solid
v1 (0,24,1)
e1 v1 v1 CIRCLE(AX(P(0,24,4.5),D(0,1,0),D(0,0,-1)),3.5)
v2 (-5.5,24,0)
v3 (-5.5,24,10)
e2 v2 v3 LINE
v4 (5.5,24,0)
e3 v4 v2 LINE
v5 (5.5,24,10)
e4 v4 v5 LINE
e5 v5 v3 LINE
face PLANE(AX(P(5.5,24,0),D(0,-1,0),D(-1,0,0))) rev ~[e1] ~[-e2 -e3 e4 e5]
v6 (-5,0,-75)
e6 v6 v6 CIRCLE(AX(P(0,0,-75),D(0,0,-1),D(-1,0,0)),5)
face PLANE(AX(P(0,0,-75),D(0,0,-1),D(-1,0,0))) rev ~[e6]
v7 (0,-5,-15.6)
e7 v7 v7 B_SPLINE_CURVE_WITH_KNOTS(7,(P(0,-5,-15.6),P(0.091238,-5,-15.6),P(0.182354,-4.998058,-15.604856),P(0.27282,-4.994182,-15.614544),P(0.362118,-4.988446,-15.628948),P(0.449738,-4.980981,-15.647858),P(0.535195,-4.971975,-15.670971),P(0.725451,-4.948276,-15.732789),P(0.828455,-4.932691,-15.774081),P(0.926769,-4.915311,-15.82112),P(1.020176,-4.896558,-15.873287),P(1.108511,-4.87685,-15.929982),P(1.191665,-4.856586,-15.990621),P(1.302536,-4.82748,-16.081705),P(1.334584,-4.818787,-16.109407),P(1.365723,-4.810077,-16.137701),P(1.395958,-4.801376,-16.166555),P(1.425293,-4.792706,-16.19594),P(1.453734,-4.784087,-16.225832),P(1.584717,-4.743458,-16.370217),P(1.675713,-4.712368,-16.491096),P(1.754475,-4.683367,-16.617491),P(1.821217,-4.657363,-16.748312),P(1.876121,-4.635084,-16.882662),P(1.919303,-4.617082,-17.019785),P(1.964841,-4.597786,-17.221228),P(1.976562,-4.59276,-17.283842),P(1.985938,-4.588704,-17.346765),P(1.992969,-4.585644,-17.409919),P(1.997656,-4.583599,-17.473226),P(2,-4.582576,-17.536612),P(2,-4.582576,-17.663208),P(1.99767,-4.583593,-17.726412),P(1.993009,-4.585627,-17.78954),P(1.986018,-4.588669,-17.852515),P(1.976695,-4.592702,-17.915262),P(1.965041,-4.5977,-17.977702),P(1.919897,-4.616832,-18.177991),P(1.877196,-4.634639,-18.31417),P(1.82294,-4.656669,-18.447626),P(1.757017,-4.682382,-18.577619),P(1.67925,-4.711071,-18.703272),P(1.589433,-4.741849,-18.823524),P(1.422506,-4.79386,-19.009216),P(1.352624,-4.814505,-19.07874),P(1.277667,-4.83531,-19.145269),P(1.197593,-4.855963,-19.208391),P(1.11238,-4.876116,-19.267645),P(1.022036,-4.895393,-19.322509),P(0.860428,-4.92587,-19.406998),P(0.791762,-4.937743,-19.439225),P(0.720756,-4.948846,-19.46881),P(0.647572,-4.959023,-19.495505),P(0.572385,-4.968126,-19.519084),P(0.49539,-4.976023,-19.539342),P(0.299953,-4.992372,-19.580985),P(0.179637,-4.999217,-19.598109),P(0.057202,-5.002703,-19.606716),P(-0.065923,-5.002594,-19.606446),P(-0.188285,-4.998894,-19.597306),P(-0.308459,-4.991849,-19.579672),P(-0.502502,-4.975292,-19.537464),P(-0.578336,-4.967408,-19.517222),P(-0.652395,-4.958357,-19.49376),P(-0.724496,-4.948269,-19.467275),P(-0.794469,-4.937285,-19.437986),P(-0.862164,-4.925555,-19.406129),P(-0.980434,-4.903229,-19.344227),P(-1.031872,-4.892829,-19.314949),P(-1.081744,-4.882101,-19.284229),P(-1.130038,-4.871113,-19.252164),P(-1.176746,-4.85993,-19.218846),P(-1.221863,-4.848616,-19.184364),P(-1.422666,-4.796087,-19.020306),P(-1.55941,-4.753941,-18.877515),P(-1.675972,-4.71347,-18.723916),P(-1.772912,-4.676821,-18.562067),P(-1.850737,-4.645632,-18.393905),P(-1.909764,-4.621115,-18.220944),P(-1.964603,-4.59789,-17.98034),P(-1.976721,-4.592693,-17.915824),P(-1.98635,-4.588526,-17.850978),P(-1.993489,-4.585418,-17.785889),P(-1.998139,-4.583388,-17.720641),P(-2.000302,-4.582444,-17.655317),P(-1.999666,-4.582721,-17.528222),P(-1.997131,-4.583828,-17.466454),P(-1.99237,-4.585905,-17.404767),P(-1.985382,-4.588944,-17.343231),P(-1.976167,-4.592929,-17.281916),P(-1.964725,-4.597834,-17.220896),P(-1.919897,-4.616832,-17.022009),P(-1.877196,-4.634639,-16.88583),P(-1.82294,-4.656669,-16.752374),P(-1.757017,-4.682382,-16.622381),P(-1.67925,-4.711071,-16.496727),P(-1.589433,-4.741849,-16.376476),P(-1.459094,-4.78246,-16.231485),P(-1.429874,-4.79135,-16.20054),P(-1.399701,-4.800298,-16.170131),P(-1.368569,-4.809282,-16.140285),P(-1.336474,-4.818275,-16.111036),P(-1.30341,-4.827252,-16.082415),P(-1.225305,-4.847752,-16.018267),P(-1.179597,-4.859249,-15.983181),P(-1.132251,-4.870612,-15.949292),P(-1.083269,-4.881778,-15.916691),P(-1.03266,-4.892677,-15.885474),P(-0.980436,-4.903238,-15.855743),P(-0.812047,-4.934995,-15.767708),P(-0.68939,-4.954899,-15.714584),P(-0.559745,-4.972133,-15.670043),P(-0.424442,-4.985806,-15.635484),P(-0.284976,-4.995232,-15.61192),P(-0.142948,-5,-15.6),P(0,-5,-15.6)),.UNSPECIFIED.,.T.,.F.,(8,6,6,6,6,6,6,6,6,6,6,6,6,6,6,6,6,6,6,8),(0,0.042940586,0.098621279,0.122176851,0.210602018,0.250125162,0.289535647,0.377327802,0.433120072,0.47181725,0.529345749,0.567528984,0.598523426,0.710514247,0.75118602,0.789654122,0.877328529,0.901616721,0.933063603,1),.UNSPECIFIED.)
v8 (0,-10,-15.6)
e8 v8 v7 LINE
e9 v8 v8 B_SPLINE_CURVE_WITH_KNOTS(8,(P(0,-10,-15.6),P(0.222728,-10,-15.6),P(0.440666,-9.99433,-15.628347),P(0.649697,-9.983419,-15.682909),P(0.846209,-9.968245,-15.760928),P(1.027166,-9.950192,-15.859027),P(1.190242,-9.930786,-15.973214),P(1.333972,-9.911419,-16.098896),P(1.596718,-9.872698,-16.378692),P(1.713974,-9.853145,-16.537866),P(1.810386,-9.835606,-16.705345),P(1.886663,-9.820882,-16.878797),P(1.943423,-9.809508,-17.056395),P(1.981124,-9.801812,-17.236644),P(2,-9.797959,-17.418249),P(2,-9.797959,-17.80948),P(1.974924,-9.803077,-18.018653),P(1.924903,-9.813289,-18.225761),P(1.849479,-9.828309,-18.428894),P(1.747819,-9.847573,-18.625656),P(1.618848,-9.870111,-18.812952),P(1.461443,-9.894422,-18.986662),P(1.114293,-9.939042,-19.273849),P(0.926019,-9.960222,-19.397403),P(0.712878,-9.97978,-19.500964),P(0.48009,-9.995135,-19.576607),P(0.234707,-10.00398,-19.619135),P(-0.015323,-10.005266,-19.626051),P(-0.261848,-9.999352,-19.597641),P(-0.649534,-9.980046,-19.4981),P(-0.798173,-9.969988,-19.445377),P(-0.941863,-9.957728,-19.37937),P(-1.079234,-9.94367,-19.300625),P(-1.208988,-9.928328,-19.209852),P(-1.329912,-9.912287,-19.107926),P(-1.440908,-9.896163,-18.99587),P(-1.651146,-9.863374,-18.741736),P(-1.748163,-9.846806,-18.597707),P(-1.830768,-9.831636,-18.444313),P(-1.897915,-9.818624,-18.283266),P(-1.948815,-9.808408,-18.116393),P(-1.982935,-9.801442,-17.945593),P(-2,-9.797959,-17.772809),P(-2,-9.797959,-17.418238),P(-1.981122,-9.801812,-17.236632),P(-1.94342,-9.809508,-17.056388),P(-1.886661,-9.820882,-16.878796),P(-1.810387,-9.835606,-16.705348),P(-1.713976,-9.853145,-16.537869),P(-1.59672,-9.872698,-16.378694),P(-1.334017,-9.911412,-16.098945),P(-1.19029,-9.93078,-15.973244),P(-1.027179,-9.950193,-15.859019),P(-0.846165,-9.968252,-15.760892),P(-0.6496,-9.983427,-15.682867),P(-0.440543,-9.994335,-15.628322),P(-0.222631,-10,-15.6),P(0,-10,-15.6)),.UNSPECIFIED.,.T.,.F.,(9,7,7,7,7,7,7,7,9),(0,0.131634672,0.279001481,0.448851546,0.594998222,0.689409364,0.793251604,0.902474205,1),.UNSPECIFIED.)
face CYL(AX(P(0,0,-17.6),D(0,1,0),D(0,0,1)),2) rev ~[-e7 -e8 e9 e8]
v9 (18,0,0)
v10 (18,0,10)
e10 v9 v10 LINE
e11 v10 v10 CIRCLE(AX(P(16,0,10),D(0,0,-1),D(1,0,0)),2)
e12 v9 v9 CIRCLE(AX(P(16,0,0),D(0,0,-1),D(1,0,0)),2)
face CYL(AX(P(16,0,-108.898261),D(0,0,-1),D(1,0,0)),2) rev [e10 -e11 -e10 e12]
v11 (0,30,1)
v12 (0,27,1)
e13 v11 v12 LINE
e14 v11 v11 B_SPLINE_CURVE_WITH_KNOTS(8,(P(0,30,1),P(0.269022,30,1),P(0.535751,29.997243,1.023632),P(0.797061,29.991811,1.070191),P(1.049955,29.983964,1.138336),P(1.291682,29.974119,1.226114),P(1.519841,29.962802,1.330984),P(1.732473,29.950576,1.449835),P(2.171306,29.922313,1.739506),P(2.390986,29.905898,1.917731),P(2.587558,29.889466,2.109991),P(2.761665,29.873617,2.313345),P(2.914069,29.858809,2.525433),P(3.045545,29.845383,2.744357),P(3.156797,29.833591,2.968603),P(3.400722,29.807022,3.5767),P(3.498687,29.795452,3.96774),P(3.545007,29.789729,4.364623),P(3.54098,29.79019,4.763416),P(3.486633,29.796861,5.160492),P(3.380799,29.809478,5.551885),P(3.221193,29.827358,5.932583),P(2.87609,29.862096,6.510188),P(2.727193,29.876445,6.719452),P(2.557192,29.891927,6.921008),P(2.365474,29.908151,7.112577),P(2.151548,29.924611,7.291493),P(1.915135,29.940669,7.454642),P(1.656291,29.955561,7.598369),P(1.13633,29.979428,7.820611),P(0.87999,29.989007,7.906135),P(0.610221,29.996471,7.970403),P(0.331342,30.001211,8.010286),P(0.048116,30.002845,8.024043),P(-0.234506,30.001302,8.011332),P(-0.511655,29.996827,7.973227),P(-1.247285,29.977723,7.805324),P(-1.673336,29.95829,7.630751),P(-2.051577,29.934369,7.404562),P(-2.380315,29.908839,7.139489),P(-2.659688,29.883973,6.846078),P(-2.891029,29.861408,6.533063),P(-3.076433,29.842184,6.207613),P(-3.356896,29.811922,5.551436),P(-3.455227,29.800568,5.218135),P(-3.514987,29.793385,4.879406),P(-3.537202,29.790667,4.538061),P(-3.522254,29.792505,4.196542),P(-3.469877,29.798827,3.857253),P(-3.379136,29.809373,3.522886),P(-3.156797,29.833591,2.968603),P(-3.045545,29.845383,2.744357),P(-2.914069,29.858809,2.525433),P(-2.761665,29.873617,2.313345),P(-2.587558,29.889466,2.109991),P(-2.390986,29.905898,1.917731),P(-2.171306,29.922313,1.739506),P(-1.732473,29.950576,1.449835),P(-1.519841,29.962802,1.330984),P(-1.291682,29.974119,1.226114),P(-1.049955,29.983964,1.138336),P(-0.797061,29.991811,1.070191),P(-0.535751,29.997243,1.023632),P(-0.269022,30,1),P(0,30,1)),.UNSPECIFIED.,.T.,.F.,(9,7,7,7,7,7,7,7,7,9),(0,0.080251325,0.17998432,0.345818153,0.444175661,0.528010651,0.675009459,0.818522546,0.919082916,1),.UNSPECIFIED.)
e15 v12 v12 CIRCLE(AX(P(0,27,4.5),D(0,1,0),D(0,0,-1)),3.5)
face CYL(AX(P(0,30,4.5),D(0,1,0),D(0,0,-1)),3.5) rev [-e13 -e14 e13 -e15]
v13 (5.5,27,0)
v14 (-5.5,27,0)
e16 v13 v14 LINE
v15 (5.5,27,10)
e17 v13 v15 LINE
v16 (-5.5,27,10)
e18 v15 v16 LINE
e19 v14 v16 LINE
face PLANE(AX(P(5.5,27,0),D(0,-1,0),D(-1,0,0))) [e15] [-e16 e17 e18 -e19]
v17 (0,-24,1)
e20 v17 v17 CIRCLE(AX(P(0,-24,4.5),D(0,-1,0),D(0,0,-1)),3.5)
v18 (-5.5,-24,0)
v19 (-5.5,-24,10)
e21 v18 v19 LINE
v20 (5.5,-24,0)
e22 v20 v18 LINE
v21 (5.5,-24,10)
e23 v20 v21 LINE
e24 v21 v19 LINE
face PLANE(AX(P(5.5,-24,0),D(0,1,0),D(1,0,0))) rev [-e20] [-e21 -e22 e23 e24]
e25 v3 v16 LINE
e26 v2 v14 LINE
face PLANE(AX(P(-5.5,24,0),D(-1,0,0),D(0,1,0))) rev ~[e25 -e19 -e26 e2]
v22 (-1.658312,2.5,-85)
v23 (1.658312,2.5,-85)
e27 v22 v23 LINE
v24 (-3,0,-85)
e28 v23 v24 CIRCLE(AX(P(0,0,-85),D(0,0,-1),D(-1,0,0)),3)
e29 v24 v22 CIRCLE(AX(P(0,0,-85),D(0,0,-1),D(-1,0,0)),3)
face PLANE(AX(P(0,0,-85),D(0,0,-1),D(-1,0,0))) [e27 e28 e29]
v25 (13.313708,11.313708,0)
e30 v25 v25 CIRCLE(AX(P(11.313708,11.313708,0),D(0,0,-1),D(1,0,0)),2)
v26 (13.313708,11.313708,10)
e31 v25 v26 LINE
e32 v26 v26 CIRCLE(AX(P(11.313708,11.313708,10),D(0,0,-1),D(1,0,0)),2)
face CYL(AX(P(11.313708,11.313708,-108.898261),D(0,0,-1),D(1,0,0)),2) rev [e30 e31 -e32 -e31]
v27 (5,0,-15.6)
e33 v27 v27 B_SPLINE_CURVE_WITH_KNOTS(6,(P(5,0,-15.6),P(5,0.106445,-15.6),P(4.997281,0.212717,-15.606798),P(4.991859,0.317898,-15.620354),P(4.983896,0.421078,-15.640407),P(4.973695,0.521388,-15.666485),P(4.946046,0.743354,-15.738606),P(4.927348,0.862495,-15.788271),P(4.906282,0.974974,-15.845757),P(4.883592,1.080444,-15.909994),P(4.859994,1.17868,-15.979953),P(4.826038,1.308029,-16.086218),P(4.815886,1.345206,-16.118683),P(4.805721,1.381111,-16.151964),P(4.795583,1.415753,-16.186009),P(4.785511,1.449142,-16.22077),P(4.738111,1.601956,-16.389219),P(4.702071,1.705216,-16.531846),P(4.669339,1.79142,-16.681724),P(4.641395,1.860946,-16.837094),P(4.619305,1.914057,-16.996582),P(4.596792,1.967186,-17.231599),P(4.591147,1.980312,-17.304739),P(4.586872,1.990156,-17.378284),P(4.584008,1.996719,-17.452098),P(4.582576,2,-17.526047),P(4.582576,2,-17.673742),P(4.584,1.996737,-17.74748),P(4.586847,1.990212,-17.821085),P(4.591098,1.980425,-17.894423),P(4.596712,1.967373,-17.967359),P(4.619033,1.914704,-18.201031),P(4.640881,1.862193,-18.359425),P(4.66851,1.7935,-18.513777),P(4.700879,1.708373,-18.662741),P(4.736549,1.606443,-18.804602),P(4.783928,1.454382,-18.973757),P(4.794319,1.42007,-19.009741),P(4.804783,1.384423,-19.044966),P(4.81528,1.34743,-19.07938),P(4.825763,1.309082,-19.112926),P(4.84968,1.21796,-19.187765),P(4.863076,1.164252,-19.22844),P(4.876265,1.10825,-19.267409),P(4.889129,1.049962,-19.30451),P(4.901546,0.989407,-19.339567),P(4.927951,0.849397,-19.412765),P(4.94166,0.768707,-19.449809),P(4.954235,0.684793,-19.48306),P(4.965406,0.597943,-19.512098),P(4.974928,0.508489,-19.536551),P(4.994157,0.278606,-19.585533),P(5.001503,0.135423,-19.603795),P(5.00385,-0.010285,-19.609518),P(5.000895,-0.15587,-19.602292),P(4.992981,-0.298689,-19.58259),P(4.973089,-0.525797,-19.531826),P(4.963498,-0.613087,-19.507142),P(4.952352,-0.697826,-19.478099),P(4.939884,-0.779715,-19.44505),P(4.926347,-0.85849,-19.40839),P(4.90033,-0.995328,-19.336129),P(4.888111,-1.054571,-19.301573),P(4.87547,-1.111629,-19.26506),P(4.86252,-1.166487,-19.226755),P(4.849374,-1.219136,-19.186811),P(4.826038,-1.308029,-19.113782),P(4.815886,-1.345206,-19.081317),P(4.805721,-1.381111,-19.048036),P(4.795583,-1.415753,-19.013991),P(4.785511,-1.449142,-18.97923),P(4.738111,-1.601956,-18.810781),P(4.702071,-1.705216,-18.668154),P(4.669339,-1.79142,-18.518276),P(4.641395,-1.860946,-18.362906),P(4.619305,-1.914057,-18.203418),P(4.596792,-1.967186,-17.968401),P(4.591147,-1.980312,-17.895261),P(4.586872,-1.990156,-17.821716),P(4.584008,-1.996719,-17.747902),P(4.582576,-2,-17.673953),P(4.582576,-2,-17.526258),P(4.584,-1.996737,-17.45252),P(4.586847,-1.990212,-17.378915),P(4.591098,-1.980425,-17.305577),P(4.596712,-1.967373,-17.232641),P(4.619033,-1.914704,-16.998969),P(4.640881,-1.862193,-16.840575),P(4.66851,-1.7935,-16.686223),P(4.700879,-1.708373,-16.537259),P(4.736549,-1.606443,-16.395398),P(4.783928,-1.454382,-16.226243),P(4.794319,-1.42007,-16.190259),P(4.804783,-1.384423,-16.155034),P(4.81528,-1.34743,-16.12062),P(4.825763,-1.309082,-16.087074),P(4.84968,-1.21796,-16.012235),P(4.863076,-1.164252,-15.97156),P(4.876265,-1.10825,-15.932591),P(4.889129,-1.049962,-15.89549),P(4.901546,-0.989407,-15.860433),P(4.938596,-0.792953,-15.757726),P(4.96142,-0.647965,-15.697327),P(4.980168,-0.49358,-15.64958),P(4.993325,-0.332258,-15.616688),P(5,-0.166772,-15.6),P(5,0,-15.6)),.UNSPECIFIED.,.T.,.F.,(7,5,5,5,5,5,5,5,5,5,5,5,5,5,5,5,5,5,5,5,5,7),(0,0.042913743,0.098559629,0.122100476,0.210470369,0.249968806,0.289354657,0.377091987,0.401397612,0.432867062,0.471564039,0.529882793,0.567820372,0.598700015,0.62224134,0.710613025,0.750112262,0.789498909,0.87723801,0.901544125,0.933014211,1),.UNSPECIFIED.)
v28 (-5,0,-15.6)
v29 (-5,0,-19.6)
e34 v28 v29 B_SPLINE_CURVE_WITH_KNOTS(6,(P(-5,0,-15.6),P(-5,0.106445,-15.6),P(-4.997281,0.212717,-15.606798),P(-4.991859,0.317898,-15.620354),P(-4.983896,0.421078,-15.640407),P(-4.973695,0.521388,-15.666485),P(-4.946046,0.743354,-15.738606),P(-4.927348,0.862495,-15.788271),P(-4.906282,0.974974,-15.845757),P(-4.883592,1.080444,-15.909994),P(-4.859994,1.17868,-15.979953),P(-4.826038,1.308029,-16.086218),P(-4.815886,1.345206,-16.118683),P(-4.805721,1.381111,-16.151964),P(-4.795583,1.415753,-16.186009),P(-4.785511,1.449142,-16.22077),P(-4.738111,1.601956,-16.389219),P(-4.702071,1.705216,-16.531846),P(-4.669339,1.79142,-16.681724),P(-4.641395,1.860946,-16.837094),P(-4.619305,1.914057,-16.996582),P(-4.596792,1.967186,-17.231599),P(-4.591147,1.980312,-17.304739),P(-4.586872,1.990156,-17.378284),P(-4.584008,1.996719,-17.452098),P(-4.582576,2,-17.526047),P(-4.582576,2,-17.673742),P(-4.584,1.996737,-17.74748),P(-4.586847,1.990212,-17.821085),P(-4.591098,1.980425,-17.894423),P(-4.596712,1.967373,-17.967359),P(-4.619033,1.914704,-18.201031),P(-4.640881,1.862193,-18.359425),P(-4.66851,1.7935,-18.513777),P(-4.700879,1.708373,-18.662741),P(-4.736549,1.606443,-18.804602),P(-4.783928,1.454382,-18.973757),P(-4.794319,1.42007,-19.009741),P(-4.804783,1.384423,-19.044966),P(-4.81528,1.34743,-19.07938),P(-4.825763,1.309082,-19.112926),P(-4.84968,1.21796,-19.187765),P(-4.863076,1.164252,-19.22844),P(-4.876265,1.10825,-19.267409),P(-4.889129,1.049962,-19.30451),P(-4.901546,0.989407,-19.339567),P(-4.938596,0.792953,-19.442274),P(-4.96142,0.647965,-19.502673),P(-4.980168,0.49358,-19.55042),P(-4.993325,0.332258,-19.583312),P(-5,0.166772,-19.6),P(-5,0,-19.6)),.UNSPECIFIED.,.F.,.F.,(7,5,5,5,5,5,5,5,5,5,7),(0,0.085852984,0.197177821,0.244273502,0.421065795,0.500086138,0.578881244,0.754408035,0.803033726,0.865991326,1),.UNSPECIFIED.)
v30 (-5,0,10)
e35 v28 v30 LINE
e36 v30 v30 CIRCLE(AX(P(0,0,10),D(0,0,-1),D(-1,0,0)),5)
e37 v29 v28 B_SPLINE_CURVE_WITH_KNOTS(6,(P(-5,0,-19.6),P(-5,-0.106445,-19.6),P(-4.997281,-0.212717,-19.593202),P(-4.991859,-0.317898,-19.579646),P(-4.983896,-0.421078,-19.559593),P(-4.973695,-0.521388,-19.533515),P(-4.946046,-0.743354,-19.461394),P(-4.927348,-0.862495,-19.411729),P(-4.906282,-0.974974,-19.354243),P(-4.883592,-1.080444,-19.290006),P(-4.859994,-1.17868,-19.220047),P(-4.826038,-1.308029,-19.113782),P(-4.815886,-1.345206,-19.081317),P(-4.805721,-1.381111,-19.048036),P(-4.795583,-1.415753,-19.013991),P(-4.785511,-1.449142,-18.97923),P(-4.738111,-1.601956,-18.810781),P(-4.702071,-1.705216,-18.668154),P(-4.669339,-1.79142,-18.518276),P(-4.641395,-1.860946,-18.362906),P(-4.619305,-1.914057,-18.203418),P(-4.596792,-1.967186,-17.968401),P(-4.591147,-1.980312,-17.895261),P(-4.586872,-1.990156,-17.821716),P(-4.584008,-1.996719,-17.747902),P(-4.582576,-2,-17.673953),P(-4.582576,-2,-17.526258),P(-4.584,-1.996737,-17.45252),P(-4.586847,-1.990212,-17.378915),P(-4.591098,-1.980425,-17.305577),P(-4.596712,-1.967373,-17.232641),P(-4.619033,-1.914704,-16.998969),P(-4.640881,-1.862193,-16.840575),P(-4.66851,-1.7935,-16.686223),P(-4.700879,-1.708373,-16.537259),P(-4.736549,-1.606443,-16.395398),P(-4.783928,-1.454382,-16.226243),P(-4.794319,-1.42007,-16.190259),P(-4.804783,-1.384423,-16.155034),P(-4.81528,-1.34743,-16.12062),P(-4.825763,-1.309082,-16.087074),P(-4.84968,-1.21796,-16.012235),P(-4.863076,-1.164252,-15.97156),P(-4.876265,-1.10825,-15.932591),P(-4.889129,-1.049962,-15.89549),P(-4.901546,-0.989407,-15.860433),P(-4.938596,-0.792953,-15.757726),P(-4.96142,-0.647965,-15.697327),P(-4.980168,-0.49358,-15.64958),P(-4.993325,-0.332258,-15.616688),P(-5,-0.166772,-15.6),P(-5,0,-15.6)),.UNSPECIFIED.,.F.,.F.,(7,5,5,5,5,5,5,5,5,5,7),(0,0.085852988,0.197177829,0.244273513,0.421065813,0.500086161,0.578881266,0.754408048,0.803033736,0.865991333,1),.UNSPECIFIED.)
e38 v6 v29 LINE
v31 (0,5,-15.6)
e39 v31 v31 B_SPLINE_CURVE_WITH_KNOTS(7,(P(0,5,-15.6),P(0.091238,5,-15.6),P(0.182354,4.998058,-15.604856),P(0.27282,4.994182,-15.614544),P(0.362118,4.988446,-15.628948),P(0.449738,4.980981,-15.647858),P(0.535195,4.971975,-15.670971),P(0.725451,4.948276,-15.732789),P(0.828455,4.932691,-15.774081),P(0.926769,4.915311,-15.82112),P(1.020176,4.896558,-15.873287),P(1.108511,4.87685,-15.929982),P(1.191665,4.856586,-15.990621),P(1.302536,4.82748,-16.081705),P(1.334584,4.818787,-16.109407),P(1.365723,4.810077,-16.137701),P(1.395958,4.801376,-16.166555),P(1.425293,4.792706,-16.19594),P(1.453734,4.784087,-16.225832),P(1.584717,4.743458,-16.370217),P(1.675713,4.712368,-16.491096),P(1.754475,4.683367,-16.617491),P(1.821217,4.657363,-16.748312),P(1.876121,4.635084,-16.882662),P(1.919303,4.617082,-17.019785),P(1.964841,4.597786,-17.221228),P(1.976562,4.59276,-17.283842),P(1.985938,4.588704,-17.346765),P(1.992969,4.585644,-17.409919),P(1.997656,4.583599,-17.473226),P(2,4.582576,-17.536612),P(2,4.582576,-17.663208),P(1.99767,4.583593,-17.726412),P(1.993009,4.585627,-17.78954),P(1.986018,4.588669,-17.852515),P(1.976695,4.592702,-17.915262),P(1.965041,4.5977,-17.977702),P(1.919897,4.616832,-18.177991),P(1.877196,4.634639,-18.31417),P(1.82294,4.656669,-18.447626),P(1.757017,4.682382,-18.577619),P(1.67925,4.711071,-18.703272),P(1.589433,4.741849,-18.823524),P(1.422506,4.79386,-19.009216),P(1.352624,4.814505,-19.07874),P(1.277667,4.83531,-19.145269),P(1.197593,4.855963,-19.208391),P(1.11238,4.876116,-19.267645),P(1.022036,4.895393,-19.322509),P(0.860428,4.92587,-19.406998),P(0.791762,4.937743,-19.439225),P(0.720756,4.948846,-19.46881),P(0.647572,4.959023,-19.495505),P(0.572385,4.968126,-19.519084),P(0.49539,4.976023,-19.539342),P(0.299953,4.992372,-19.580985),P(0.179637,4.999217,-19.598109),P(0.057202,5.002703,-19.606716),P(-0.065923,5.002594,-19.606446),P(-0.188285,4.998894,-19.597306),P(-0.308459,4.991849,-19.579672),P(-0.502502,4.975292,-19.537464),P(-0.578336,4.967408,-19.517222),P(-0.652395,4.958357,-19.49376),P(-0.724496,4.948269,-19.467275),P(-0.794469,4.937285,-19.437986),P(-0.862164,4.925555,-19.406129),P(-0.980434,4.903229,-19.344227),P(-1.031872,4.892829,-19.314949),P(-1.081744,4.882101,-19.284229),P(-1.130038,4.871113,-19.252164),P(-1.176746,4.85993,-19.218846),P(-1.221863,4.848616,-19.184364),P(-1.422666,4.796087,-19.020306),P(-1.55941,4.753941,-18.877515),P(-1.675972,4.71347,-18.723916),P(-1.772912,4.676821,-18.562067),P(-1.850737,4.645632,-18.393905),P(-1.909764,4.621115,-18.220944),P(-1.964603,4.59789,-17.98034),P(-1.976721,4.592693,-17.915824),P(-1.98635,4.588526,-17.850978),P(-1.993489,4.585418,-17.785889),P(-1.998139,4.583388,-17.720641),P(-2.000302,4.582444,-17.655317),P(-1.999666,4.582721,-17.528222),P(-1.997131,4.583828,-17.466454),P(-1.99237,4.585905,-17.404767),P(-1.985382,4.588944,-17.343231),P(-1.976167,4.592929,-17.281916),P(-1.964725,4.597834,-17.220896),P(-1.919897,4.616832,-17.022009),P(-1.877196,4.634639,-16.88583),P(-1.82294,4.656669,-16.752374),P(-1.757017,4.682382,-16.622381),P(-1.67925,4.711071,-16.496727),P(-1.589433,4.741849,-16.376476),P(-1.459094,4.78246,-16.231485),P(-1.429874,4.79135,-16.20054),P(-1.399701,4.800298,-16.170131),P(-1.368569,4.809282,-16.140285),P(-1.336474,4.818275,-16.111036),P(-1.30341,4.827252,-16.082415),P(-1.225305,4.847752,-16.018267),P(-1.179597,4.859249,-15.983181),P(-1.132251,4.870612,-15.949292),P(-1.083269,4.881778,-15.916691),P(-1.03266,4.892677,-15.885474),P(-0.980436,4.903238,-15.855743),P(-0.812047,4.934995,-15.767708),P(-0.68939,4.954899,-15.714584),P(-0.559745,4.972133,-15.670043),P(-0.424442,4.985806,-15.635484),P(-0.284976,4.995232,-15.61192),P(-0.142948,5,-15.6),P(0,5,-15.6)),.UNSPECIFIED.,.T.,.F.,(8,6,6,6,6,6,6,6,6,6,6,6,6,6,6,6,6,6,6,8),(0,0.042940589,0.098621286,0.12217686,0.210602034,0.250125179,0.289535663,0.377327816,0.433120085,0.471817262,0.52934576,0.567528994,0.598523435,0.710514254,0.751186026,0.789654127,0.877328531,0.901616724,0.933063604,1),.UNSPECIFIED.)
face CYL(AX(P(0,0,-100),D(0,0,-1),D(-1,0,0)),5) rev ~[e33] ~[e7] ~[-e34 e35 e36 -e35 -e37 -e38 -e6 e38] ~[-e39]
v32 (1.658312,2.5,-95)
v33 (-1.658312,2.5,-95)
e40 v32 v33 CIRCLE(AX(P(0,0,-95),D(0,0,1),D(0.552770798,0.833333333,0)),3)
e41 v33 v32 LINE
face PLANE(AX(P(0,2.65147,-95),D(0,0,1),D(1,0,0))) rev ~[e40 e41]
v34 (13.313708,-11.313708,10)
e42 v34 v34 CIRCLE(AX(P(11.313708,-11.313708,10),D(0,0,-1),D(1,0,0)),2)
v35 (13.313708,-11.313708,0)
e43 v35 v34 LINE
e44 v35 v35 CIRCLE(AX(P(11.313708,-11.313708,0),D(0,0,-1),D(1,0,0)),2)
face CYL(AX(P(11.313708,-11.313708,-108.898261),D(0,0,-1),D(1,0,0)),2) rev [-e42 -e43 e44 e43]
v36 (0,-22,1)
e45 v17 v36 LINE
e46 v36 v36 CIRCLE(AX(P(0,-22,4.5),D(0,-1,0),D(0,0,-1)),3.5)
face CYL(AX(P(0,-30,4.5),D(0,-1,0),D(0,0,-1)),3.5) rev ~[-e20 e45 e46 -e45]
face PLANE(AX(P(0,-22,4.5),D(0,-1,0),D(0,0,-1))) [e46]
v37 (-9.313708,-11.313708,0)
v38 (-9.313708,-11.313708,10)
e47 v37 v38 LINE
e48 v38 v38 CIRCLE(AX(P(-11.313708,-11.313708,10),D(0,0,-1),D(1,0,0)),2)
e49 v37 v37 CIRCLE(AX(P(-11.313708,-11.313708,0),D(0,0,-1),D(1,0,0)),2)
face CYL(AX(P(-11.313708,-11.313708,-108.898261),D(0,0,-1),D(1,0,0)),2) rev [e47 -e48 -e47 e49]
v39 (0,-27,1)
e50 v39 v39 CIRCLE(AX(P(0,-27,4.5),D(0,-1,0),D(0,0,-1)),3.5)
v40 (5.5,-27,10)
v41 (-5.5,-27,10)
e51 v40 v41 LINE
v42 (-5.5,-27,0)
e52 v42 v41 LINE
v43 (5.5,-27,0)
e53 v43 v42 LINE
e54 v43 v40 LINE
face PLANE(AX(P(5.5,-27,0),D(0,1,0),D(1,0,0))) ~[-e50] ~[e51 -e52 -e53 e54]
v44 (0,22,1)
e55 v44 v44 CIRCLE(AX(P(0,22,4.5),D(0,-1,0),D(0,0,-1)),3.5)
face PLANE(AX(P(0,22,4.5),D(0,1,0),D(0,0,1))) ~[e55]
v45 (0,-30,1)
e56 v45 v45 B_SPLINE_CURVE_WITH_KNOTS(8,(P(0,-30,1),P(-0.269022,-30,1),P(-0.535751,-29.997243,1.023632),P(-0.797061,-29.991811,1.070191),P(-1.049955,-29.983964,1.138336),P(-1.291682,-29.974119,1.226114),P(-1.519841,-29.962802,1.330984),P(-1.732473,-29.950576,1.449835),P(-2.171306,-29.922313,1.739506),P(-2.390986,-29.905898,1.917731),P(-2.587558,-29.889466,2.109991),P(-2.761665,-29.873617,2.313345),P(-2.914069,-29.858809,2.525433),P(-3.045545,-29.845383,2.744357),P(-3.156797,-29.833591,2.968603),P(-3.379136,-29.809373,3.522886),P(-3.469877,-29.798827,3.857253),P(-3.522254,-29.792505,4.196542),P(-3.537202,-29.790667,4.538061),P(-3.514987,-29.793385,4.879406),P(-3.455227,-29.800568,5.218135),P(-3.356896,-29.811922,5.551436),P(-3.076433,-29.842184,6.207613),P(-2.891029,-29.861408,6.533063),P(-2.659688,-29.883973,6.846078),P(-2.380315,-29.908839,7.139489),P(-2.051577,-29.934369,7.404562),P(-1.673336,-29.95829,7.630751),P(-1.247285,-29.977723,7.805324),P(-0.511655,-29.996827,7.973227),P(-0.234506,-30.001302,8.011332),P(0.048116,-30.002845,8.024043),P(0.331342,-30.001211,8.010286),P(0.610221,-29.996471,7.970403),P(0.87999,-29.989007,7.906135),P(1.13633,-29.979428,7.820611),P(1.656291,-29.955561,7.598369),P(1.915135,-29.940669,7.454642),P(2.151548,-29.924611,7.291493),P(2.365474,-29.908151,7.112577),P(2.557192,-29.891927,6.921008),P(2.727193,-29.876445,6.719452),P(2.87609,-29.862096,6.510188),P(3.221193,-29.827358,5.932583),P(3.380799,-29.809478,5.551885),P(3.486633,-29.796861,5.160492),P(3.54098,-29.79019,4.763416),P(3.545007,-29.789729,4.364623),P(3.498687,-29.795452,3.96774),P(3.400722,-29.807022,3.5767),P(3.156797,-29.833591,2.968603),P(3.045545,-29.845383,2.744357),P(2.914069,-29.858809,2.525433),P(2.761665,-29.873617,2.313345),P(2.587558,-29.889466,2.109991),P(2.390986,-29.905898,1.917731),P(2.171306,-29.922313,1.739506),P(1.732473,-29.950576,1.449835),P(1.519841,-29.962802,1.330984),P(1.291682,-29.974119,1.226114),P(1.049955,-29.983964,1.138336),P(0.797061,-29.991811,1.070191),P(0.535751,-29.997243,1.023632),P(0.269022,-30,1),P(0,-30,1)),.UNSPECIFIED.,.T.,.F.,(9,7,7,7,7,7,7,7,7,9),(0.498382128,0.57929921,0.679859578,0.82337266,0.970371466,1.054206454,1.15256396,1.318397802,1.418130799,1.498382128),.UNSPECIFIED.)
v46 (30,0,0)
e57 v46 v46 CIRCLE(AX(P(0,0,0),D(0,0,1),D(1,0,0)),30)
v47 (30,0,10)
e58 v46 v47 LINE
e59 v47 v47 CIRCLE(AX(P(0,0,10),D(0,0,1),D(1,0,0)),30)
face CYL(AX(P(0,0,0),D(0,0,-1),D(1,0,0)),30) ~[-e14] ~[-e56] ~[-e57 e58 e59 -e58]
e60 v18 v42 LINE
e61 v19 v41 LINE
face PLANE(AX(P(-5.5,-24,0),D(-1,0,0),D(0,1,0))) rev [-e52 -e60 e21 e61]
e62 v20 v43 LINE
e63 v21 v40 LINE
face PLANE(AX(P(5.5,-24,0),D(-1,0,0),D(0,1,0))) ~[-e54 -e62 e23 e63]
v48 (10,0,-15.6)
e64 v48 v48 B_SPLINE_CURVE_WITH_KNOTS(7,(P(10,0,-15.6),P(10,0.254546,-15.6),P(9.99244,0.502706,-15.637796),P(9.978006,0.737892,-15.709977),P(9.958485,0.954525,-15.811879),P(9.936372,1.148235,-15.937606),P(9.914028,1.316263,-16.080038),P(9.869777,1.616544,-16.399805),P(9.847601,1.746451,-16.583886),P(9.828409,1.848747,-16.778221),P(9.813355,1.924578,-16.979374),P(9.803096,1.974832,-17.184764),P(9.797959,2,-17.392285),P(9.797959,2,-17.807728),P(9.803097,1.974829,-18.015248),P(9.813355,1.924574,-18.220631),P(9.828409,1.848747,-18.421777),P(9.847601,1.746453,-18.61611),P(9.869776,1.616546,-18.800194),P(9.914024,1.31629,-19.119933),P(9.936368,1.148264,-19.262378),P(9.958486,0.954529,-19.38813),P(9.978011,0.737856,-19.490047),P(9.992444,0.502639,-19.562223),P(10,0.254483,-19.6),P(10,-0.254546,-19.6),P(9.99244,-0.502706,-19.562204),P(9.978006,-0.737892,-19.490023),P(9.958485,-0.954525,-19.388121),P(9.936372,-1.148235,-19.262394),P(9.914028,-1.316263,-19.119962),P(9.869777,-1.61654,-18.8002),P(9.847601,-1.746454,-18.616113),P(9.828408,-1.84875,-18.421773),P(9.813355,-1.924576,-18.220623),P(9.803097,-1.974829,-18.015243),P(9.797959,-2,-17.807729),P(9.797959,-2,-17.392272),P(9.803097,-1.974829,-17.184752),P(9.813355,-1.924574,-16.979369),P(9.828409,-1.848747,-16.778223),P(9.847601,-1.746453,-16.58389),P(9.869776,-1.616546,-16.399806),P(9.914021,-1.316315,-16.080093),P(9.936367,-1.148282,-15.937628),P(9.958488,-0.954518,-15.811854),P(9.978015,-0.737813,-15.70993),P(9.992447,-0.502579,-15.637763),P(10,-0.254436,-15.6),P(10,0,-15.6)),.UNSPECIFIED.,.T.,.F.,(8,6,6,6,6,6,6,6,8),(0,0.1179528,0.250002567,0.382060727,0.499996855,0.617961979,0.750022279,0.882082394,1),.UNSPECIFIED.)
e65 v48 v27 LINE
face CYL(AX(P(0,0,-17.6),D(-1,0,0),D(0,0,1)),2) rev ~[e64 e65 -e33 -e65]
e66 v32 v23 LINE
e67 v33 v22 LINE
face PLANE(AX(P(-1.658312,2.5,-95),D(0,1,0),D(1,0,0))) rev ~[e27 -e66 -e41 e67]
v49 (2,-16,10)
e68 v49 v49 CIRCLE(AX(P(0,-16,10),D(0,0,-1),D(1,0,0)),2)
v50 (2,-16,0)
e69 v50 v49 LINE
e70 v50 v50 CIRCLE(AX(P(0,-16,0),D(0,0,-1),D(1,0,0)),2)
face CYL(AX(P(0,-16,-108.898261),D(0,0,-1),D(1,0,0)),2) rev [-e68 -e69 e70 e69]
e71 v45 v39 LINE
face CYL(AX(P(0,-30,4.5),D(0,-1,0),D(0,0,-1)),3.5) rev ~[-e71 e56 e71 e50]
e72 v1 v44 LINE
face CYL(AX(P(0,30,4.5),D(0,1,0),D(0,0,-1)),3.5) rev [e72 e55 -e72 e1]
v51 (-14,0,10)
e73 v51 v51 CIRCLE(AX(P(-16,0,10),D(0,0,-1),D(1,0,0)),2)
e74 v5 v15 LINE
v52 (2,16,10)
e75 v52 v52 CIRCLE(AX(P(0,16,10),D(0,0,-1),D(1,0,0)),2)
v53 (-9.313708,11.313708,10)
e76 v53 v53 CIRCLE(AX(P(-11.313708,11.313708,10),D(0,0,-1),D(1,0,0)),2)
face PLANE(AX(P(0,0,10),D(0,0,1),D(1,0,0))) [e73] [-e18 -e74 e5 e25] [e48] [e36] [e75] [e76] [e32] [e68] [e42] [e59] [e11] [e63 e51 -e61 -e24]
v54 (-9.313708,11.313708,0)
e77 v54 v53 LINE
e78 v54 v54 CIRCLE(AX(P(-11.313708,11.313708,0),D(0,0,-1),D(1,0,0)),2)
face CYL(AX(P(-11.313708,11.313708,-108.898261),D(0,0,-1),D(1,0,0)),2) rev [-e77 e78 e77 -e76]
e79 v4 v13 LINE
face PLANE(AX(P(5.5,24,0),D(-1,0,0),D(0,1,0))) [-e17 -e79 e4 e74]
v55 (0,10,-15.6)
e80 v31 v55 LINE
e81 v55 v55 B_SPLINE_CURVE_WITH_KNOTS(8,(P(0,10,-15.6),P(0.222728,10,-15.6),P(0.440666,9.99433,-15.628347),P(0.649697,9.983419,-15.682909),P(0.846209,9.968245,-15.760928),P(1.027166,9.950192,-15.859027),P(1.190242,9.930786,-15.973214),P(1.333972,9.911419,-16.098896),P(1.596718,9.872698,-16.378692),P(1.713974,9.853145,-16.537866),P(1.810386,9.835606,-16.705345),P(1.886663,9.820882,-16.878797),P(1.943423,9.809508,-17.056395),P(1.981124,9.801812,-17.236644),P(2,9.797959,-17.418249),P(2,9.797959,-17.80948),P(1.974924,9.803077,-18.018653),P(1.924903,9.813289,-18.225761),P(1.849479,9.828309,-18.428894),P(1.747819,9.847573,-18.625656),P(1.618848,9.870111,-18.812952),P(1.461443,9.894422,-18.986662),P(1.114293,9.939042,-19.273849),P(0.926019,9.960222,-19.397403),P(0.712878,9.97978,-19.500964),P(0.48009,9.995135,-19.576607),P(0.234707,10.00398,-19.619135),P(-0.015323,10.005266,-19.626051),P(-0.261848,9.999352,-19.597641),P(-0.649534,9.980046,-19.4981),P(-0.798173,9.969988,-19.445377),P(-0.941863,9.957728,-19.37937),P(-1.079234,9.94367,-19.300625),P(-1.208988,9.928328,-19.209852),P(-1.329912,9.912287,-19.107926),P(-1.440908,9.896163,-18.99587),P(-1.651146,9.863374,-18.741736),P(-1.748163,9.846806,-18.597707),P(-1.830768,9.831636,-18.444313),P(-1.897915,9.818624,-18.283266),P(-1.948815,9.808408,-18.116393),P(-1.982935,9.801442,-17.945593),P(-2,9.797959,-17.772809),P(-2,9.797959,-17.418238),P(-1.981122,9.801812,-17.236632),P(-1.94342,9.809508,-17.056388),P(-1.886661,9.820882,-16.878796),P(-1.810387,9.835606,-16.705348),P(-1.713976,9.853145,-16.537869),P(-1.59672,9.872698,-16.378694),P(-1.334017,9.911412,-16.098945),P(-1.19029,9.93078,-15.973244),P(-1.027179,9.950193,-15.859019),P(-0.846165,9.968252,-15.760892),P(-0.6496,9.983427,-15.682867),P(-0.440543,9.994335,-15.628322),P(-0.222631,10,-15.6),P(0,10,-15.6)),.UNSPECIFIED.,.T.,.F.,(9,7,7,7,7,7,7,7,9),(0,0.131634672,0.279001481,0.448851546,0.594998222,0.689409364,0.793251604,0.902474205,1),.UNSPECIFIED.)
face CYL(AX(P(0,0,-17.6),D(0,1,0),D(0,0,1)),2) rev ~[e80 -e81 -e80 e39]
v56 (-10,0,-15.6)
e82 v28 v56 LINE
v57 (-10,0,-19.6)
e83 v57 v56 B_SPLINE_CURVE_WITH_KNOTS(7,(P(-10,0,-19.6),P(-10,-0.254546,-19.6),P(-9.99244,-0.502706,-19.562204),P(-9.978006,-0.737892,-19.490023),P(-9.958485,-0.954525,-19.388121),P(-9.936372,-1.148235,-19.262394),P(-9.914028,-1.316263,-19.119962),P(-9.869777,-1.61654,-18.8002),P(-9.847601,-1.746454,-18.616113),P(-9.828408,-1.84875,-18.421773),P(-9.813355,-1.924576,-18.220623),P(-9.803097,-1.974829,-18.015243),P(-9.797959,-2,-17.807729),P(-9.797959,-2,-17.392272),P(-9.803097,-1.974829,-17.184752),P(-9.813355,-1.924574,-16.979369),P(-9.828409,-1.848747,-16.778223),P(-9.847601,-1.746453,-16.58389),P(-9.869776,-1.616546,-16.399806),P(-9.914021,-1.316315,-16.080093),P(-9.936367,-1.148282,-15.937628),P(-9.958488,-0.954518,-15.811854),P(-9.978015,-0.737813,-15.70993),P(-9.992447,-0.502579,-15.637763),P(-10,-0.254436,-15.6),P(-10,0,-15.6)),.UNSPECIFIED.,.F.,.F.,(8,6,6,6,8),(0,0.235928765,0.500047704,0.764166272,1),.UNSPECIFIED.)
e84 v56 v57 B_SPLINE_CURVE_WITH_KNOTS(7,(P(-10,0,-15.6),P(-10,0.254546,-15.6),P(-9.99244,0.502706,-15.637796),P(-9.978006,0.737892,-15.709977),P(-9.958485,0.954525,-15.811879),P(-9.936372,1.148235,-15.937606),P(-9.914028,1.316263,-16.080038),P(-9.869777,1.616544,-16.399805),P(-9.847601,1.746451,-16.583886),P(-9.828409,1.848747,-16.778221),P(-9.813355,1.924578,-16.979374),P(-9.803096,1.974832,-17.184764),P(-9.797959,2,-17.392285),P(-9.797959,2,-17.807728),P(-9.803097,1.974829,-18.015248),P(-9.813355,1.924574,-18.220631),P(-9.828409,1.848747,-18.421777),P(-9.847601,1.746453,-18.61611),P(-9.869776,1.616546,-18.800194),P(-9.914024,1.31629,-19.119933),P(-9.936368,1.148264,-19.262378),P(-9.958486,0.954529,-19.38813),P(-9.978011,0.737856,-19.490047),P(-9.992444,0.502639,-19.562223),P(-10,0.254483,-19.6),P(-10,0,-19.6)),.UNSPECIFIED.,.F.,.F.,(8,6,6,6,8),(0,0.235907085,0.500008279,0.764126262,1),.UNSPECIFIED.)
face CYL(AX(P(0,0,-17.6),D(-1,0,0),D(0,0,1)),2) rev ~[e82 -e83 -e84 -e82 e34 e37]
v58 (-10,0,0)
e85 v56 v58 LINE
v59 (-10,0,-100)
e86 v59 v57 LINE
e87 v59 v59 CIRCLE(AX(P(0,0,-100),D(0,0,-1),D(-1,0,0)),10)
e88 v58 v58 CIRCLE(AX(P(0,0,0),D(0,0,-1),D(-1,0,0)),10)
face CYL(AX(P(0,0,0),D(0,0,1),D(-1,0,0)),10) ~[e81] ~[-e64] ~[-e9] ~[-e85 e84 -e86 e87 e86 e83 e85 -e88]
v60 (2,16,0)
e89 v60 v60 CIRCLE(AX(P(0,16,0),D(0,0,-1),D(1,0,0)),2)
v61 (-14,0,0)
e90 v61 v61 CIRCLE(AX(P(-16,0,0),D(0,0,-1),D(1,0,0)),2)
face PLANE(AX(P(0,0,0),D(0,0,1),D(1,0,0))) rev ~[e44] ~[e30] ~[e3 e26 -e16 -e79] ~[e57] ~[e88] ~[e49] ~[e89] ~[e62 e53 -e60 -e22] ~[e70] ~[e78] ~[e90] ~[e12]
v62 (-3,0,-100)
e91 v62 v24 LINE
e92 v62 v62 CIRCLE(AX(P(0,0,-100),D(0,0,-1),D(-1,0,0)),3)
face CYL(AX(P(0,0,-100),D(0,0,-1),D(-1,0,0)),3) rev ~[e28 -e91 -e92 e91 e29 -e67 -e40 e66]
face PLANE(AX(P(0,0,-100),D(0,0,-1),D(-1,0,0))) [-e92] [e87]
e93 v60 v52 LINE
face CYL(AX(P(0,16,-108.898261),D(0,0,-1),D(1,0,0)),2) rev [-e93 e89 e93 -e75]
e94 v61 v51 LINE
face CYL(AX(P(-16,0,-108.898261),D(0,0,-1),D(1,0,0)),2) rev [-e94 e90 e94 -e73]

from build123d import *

# Parameters (mm, degrees)
SKETCH1_R               = 30
BOSS_EXTRUDE1_DEPTH     = 10
SKETCH2_R               = 10
BOSS_EXTRUDE2_DEPTH     = 100
SKETCH2_2_R             = 10
BOSS_EXTRUDE3_DEPTH     = 20
SKETCH5_R               = 5
CUT_EXTRUDE1_DEPTH      = 118.898261226
SKETCH6_R               = 2
CUT_EXTRUDE2_DEPTH      = 109.627804912
CIRPATTERN1_COUNT       = 2
CIRPATTERN1_ANGLE       = 90
CUT_EXTRUDE3_DEPTH      = 118.898261319
CUT_EXTRUDE3_DEPTH_BACK = 118.898261319
SKETCH7_R               = 2
SKETCH9_W               = 11
SKETCH9_H               = 3
CUT_EXTRUDE5_DEPTH      = 10
SKETCH10_R              = 3.5
CUT_EXTRUDE6_DEPTH      = 8
SKETCH17_R              = 7.355644599
BOSS_EXTRUDE4_DEPTH     = 25
SKETCH18_R              = 3
CUT_EXTRUDE7_DEPTH      = 15
BOSS_EXTRUDE5_START     = 10
BOSS_EXTRUDE5_DEPTH     = 10


with BuildPart() as part:
    # Sketch1 → Boss-Extrude1 (new body)
    with BuildSketch(Plane.XY):
        Circle(SKETCH1_R)
    extrude(amount=BOSS_EXTRUDE1_DEPTH)

    # Sketch2 → Boss-Extrude2 (add)
    with BuildSketch(Plane(origin=(0, 0, 0), x_dir=(-1, 0, 0), z_dir=(0, 0, -1))):
        Circle(SKETCH2_R)
    extrude(amount=BOSS_EXTRUDE2_DEPTH)

    # Sketch2<2> → Boss-Extrude3 (add)
    with BuildSketch(Plane(origin=(0, 0, 0), x_dir=(-1, 0, 0), z_dir=(0, 0, -1))):
        Circle(SKETCH2_2_R)
    extrude(amount=BOSS_EXTRUDE3_DEPTH)

    # Sketch5 → Cut-Extrude1 (cut, through all)
    with BuildSketch(Plane(origin=(0, 0, -100), x_dir=(-1, 0, 0), z_dir=(0, 0, -1))):
        Circle(SKETCH5_R)
    extrude(amount=-CUT_EXTRUDE1_DEPTH, mode=Mode.SUBTRACT)

    # Sketch6 → Cut-Extrude2 (cut, symmetric)
    with BuildSketch(Plane(origin=(0, 0, 0), x_dir=(1, 0, 0), z_dir=(0, 1, 0))):
        with Locations((0, 17.6)):
            Circle(SKETCH6_R)
    cut_extrude2 = extrude(amount=CUT_EXTRUDE2_DEPTH, both=True, mode=Mode.SUBTRACT)

    # CirPattern1: Cut-Extrude2 ×2 about axis
    cirpattern1_axis = Axis((0, 0, -100), (0, 0, 1))
    for i in range(1, CIRPATTERN1_COUNT):
        add(cut_extrude2.rotate(cirpattern1_axis, i * CIRPATTERN1_ANGLE / (CIRPATTERN1_COUNT - 1)), mode=Mode.SUBTRACT)

    # Sketch7 → Cut-Extrude3 (cut, two sides: drawn at the far end of the back side and taken through both)
    with BuildSketch(Plane.XY.offset(10).offset(-CUT_EXTRUDE3_DEPTH_BACK)):
        with Locations((0, 16)):
            Circle(SKETCH7_R)
        with Locations((11.313708499, 11.313708499)):
            Circle(SKETCH7_R)
        with Locations((16, 0)):
            Circle(SKETCH7_R)
        with Locations((11.313708499, -11.313708499)):
            Circle(SKETCH7_R)
        with Locations((0, -16)):
            Circle(SKETCH7_R)
        with Locations((-11.313708499, -11.313708499)):
            Circle(SKETCH7_R)
        with Locations((-16, 0)):
            Circle(SKETCH7_R)
        with Locations((-11.313708499, 11.313708499)):
            Circle(SKETCH7_R)
    extrude(amount=CUT_EXTRUDE3_DEPTH + CUT_EXTRUDE3_DEPTH_BACK, mode=Mode.SUBTRACT)

    # Sketch9 → Cut-Extrude5 (cut)
    with BuildSketch(Plane(origin=(0, 0, 0), x_dir=(-1, 0, 0), z_dir=(0, 0, -1))):
        with Locations((0, 25.5)):
            Rectangle(SKETCH9_W, SKETCH9_H)
    cut_extrude5 = extrude(amount=-CUT_EXTRUDE5_DEPTH, mode=Mode.SUBTRACT)

    # Mirror1: Cut-Extrude5 across plane
    add(cut_extrude5.mirror(Plane.ZX), mode=Mode.SUBTRACT)

    # Sketch10 → Cut-Extrude6 (cut)
    with BuildSketch(Plane(origin=(0, -30, 0), x_dir=(-1, 0, 0), z_dir=(0, -1, 0))):
        with Locations((0, -4.5)):
            Circle(SKETCH10_R)
    cut_extrude6 = extrude(amount=-CUT_EXTRUDE6_DEPTH, mode=Mode.SUBTRACT)

    # Mirror2: Cut-Extrude6 across plane
    add(cut_extrude6.mirror(Plane.ZX), mode=Mode.SUBTRACT)

    # Sketch17 → Boss-Extrude4 (add)
    with BuildSketch(Plane(origin=(0, 0, -75), x_dir=(-1, 0, 0), z_dir=(0, 0, -1))):
        Circle(SKETCH17_R)
    extrude(amount=BOSS_EXTRUDE4_DEPTH)

    # Sketch18 → Cut-Extrude7 (cut)
    with BuildSketch(Plane(origin=(0, 0, -100), x_dir=(-1, 0, 0), z_dir=(0, 0, -1))):
        Circle(SKETCH18_R)
    extrude(amount=-CUT_EXTRUDE7_DEPTH, mode=Mode.SUBTRACT)

    # Sketch19 → Boss-Extrude5 (add)
    with BuildSketch(Plane(origin=(0, 0, -85), x_dir=(-1, 0, 0), z_dir=(0, 0, -1)).offset(BOSS_EXTRUDE5_START)):
        with BuildLine():
            Line((1.658312395, 2.5), (-1.658312395, 2.5))
            ThreePointArc((-1.658312395, 2.5), (0, 3), (1.658312395, 2.5))
        make_face()
    extrude(amount=-BOSS_EXTRUDE5_DEPTH)


solid = part.part
